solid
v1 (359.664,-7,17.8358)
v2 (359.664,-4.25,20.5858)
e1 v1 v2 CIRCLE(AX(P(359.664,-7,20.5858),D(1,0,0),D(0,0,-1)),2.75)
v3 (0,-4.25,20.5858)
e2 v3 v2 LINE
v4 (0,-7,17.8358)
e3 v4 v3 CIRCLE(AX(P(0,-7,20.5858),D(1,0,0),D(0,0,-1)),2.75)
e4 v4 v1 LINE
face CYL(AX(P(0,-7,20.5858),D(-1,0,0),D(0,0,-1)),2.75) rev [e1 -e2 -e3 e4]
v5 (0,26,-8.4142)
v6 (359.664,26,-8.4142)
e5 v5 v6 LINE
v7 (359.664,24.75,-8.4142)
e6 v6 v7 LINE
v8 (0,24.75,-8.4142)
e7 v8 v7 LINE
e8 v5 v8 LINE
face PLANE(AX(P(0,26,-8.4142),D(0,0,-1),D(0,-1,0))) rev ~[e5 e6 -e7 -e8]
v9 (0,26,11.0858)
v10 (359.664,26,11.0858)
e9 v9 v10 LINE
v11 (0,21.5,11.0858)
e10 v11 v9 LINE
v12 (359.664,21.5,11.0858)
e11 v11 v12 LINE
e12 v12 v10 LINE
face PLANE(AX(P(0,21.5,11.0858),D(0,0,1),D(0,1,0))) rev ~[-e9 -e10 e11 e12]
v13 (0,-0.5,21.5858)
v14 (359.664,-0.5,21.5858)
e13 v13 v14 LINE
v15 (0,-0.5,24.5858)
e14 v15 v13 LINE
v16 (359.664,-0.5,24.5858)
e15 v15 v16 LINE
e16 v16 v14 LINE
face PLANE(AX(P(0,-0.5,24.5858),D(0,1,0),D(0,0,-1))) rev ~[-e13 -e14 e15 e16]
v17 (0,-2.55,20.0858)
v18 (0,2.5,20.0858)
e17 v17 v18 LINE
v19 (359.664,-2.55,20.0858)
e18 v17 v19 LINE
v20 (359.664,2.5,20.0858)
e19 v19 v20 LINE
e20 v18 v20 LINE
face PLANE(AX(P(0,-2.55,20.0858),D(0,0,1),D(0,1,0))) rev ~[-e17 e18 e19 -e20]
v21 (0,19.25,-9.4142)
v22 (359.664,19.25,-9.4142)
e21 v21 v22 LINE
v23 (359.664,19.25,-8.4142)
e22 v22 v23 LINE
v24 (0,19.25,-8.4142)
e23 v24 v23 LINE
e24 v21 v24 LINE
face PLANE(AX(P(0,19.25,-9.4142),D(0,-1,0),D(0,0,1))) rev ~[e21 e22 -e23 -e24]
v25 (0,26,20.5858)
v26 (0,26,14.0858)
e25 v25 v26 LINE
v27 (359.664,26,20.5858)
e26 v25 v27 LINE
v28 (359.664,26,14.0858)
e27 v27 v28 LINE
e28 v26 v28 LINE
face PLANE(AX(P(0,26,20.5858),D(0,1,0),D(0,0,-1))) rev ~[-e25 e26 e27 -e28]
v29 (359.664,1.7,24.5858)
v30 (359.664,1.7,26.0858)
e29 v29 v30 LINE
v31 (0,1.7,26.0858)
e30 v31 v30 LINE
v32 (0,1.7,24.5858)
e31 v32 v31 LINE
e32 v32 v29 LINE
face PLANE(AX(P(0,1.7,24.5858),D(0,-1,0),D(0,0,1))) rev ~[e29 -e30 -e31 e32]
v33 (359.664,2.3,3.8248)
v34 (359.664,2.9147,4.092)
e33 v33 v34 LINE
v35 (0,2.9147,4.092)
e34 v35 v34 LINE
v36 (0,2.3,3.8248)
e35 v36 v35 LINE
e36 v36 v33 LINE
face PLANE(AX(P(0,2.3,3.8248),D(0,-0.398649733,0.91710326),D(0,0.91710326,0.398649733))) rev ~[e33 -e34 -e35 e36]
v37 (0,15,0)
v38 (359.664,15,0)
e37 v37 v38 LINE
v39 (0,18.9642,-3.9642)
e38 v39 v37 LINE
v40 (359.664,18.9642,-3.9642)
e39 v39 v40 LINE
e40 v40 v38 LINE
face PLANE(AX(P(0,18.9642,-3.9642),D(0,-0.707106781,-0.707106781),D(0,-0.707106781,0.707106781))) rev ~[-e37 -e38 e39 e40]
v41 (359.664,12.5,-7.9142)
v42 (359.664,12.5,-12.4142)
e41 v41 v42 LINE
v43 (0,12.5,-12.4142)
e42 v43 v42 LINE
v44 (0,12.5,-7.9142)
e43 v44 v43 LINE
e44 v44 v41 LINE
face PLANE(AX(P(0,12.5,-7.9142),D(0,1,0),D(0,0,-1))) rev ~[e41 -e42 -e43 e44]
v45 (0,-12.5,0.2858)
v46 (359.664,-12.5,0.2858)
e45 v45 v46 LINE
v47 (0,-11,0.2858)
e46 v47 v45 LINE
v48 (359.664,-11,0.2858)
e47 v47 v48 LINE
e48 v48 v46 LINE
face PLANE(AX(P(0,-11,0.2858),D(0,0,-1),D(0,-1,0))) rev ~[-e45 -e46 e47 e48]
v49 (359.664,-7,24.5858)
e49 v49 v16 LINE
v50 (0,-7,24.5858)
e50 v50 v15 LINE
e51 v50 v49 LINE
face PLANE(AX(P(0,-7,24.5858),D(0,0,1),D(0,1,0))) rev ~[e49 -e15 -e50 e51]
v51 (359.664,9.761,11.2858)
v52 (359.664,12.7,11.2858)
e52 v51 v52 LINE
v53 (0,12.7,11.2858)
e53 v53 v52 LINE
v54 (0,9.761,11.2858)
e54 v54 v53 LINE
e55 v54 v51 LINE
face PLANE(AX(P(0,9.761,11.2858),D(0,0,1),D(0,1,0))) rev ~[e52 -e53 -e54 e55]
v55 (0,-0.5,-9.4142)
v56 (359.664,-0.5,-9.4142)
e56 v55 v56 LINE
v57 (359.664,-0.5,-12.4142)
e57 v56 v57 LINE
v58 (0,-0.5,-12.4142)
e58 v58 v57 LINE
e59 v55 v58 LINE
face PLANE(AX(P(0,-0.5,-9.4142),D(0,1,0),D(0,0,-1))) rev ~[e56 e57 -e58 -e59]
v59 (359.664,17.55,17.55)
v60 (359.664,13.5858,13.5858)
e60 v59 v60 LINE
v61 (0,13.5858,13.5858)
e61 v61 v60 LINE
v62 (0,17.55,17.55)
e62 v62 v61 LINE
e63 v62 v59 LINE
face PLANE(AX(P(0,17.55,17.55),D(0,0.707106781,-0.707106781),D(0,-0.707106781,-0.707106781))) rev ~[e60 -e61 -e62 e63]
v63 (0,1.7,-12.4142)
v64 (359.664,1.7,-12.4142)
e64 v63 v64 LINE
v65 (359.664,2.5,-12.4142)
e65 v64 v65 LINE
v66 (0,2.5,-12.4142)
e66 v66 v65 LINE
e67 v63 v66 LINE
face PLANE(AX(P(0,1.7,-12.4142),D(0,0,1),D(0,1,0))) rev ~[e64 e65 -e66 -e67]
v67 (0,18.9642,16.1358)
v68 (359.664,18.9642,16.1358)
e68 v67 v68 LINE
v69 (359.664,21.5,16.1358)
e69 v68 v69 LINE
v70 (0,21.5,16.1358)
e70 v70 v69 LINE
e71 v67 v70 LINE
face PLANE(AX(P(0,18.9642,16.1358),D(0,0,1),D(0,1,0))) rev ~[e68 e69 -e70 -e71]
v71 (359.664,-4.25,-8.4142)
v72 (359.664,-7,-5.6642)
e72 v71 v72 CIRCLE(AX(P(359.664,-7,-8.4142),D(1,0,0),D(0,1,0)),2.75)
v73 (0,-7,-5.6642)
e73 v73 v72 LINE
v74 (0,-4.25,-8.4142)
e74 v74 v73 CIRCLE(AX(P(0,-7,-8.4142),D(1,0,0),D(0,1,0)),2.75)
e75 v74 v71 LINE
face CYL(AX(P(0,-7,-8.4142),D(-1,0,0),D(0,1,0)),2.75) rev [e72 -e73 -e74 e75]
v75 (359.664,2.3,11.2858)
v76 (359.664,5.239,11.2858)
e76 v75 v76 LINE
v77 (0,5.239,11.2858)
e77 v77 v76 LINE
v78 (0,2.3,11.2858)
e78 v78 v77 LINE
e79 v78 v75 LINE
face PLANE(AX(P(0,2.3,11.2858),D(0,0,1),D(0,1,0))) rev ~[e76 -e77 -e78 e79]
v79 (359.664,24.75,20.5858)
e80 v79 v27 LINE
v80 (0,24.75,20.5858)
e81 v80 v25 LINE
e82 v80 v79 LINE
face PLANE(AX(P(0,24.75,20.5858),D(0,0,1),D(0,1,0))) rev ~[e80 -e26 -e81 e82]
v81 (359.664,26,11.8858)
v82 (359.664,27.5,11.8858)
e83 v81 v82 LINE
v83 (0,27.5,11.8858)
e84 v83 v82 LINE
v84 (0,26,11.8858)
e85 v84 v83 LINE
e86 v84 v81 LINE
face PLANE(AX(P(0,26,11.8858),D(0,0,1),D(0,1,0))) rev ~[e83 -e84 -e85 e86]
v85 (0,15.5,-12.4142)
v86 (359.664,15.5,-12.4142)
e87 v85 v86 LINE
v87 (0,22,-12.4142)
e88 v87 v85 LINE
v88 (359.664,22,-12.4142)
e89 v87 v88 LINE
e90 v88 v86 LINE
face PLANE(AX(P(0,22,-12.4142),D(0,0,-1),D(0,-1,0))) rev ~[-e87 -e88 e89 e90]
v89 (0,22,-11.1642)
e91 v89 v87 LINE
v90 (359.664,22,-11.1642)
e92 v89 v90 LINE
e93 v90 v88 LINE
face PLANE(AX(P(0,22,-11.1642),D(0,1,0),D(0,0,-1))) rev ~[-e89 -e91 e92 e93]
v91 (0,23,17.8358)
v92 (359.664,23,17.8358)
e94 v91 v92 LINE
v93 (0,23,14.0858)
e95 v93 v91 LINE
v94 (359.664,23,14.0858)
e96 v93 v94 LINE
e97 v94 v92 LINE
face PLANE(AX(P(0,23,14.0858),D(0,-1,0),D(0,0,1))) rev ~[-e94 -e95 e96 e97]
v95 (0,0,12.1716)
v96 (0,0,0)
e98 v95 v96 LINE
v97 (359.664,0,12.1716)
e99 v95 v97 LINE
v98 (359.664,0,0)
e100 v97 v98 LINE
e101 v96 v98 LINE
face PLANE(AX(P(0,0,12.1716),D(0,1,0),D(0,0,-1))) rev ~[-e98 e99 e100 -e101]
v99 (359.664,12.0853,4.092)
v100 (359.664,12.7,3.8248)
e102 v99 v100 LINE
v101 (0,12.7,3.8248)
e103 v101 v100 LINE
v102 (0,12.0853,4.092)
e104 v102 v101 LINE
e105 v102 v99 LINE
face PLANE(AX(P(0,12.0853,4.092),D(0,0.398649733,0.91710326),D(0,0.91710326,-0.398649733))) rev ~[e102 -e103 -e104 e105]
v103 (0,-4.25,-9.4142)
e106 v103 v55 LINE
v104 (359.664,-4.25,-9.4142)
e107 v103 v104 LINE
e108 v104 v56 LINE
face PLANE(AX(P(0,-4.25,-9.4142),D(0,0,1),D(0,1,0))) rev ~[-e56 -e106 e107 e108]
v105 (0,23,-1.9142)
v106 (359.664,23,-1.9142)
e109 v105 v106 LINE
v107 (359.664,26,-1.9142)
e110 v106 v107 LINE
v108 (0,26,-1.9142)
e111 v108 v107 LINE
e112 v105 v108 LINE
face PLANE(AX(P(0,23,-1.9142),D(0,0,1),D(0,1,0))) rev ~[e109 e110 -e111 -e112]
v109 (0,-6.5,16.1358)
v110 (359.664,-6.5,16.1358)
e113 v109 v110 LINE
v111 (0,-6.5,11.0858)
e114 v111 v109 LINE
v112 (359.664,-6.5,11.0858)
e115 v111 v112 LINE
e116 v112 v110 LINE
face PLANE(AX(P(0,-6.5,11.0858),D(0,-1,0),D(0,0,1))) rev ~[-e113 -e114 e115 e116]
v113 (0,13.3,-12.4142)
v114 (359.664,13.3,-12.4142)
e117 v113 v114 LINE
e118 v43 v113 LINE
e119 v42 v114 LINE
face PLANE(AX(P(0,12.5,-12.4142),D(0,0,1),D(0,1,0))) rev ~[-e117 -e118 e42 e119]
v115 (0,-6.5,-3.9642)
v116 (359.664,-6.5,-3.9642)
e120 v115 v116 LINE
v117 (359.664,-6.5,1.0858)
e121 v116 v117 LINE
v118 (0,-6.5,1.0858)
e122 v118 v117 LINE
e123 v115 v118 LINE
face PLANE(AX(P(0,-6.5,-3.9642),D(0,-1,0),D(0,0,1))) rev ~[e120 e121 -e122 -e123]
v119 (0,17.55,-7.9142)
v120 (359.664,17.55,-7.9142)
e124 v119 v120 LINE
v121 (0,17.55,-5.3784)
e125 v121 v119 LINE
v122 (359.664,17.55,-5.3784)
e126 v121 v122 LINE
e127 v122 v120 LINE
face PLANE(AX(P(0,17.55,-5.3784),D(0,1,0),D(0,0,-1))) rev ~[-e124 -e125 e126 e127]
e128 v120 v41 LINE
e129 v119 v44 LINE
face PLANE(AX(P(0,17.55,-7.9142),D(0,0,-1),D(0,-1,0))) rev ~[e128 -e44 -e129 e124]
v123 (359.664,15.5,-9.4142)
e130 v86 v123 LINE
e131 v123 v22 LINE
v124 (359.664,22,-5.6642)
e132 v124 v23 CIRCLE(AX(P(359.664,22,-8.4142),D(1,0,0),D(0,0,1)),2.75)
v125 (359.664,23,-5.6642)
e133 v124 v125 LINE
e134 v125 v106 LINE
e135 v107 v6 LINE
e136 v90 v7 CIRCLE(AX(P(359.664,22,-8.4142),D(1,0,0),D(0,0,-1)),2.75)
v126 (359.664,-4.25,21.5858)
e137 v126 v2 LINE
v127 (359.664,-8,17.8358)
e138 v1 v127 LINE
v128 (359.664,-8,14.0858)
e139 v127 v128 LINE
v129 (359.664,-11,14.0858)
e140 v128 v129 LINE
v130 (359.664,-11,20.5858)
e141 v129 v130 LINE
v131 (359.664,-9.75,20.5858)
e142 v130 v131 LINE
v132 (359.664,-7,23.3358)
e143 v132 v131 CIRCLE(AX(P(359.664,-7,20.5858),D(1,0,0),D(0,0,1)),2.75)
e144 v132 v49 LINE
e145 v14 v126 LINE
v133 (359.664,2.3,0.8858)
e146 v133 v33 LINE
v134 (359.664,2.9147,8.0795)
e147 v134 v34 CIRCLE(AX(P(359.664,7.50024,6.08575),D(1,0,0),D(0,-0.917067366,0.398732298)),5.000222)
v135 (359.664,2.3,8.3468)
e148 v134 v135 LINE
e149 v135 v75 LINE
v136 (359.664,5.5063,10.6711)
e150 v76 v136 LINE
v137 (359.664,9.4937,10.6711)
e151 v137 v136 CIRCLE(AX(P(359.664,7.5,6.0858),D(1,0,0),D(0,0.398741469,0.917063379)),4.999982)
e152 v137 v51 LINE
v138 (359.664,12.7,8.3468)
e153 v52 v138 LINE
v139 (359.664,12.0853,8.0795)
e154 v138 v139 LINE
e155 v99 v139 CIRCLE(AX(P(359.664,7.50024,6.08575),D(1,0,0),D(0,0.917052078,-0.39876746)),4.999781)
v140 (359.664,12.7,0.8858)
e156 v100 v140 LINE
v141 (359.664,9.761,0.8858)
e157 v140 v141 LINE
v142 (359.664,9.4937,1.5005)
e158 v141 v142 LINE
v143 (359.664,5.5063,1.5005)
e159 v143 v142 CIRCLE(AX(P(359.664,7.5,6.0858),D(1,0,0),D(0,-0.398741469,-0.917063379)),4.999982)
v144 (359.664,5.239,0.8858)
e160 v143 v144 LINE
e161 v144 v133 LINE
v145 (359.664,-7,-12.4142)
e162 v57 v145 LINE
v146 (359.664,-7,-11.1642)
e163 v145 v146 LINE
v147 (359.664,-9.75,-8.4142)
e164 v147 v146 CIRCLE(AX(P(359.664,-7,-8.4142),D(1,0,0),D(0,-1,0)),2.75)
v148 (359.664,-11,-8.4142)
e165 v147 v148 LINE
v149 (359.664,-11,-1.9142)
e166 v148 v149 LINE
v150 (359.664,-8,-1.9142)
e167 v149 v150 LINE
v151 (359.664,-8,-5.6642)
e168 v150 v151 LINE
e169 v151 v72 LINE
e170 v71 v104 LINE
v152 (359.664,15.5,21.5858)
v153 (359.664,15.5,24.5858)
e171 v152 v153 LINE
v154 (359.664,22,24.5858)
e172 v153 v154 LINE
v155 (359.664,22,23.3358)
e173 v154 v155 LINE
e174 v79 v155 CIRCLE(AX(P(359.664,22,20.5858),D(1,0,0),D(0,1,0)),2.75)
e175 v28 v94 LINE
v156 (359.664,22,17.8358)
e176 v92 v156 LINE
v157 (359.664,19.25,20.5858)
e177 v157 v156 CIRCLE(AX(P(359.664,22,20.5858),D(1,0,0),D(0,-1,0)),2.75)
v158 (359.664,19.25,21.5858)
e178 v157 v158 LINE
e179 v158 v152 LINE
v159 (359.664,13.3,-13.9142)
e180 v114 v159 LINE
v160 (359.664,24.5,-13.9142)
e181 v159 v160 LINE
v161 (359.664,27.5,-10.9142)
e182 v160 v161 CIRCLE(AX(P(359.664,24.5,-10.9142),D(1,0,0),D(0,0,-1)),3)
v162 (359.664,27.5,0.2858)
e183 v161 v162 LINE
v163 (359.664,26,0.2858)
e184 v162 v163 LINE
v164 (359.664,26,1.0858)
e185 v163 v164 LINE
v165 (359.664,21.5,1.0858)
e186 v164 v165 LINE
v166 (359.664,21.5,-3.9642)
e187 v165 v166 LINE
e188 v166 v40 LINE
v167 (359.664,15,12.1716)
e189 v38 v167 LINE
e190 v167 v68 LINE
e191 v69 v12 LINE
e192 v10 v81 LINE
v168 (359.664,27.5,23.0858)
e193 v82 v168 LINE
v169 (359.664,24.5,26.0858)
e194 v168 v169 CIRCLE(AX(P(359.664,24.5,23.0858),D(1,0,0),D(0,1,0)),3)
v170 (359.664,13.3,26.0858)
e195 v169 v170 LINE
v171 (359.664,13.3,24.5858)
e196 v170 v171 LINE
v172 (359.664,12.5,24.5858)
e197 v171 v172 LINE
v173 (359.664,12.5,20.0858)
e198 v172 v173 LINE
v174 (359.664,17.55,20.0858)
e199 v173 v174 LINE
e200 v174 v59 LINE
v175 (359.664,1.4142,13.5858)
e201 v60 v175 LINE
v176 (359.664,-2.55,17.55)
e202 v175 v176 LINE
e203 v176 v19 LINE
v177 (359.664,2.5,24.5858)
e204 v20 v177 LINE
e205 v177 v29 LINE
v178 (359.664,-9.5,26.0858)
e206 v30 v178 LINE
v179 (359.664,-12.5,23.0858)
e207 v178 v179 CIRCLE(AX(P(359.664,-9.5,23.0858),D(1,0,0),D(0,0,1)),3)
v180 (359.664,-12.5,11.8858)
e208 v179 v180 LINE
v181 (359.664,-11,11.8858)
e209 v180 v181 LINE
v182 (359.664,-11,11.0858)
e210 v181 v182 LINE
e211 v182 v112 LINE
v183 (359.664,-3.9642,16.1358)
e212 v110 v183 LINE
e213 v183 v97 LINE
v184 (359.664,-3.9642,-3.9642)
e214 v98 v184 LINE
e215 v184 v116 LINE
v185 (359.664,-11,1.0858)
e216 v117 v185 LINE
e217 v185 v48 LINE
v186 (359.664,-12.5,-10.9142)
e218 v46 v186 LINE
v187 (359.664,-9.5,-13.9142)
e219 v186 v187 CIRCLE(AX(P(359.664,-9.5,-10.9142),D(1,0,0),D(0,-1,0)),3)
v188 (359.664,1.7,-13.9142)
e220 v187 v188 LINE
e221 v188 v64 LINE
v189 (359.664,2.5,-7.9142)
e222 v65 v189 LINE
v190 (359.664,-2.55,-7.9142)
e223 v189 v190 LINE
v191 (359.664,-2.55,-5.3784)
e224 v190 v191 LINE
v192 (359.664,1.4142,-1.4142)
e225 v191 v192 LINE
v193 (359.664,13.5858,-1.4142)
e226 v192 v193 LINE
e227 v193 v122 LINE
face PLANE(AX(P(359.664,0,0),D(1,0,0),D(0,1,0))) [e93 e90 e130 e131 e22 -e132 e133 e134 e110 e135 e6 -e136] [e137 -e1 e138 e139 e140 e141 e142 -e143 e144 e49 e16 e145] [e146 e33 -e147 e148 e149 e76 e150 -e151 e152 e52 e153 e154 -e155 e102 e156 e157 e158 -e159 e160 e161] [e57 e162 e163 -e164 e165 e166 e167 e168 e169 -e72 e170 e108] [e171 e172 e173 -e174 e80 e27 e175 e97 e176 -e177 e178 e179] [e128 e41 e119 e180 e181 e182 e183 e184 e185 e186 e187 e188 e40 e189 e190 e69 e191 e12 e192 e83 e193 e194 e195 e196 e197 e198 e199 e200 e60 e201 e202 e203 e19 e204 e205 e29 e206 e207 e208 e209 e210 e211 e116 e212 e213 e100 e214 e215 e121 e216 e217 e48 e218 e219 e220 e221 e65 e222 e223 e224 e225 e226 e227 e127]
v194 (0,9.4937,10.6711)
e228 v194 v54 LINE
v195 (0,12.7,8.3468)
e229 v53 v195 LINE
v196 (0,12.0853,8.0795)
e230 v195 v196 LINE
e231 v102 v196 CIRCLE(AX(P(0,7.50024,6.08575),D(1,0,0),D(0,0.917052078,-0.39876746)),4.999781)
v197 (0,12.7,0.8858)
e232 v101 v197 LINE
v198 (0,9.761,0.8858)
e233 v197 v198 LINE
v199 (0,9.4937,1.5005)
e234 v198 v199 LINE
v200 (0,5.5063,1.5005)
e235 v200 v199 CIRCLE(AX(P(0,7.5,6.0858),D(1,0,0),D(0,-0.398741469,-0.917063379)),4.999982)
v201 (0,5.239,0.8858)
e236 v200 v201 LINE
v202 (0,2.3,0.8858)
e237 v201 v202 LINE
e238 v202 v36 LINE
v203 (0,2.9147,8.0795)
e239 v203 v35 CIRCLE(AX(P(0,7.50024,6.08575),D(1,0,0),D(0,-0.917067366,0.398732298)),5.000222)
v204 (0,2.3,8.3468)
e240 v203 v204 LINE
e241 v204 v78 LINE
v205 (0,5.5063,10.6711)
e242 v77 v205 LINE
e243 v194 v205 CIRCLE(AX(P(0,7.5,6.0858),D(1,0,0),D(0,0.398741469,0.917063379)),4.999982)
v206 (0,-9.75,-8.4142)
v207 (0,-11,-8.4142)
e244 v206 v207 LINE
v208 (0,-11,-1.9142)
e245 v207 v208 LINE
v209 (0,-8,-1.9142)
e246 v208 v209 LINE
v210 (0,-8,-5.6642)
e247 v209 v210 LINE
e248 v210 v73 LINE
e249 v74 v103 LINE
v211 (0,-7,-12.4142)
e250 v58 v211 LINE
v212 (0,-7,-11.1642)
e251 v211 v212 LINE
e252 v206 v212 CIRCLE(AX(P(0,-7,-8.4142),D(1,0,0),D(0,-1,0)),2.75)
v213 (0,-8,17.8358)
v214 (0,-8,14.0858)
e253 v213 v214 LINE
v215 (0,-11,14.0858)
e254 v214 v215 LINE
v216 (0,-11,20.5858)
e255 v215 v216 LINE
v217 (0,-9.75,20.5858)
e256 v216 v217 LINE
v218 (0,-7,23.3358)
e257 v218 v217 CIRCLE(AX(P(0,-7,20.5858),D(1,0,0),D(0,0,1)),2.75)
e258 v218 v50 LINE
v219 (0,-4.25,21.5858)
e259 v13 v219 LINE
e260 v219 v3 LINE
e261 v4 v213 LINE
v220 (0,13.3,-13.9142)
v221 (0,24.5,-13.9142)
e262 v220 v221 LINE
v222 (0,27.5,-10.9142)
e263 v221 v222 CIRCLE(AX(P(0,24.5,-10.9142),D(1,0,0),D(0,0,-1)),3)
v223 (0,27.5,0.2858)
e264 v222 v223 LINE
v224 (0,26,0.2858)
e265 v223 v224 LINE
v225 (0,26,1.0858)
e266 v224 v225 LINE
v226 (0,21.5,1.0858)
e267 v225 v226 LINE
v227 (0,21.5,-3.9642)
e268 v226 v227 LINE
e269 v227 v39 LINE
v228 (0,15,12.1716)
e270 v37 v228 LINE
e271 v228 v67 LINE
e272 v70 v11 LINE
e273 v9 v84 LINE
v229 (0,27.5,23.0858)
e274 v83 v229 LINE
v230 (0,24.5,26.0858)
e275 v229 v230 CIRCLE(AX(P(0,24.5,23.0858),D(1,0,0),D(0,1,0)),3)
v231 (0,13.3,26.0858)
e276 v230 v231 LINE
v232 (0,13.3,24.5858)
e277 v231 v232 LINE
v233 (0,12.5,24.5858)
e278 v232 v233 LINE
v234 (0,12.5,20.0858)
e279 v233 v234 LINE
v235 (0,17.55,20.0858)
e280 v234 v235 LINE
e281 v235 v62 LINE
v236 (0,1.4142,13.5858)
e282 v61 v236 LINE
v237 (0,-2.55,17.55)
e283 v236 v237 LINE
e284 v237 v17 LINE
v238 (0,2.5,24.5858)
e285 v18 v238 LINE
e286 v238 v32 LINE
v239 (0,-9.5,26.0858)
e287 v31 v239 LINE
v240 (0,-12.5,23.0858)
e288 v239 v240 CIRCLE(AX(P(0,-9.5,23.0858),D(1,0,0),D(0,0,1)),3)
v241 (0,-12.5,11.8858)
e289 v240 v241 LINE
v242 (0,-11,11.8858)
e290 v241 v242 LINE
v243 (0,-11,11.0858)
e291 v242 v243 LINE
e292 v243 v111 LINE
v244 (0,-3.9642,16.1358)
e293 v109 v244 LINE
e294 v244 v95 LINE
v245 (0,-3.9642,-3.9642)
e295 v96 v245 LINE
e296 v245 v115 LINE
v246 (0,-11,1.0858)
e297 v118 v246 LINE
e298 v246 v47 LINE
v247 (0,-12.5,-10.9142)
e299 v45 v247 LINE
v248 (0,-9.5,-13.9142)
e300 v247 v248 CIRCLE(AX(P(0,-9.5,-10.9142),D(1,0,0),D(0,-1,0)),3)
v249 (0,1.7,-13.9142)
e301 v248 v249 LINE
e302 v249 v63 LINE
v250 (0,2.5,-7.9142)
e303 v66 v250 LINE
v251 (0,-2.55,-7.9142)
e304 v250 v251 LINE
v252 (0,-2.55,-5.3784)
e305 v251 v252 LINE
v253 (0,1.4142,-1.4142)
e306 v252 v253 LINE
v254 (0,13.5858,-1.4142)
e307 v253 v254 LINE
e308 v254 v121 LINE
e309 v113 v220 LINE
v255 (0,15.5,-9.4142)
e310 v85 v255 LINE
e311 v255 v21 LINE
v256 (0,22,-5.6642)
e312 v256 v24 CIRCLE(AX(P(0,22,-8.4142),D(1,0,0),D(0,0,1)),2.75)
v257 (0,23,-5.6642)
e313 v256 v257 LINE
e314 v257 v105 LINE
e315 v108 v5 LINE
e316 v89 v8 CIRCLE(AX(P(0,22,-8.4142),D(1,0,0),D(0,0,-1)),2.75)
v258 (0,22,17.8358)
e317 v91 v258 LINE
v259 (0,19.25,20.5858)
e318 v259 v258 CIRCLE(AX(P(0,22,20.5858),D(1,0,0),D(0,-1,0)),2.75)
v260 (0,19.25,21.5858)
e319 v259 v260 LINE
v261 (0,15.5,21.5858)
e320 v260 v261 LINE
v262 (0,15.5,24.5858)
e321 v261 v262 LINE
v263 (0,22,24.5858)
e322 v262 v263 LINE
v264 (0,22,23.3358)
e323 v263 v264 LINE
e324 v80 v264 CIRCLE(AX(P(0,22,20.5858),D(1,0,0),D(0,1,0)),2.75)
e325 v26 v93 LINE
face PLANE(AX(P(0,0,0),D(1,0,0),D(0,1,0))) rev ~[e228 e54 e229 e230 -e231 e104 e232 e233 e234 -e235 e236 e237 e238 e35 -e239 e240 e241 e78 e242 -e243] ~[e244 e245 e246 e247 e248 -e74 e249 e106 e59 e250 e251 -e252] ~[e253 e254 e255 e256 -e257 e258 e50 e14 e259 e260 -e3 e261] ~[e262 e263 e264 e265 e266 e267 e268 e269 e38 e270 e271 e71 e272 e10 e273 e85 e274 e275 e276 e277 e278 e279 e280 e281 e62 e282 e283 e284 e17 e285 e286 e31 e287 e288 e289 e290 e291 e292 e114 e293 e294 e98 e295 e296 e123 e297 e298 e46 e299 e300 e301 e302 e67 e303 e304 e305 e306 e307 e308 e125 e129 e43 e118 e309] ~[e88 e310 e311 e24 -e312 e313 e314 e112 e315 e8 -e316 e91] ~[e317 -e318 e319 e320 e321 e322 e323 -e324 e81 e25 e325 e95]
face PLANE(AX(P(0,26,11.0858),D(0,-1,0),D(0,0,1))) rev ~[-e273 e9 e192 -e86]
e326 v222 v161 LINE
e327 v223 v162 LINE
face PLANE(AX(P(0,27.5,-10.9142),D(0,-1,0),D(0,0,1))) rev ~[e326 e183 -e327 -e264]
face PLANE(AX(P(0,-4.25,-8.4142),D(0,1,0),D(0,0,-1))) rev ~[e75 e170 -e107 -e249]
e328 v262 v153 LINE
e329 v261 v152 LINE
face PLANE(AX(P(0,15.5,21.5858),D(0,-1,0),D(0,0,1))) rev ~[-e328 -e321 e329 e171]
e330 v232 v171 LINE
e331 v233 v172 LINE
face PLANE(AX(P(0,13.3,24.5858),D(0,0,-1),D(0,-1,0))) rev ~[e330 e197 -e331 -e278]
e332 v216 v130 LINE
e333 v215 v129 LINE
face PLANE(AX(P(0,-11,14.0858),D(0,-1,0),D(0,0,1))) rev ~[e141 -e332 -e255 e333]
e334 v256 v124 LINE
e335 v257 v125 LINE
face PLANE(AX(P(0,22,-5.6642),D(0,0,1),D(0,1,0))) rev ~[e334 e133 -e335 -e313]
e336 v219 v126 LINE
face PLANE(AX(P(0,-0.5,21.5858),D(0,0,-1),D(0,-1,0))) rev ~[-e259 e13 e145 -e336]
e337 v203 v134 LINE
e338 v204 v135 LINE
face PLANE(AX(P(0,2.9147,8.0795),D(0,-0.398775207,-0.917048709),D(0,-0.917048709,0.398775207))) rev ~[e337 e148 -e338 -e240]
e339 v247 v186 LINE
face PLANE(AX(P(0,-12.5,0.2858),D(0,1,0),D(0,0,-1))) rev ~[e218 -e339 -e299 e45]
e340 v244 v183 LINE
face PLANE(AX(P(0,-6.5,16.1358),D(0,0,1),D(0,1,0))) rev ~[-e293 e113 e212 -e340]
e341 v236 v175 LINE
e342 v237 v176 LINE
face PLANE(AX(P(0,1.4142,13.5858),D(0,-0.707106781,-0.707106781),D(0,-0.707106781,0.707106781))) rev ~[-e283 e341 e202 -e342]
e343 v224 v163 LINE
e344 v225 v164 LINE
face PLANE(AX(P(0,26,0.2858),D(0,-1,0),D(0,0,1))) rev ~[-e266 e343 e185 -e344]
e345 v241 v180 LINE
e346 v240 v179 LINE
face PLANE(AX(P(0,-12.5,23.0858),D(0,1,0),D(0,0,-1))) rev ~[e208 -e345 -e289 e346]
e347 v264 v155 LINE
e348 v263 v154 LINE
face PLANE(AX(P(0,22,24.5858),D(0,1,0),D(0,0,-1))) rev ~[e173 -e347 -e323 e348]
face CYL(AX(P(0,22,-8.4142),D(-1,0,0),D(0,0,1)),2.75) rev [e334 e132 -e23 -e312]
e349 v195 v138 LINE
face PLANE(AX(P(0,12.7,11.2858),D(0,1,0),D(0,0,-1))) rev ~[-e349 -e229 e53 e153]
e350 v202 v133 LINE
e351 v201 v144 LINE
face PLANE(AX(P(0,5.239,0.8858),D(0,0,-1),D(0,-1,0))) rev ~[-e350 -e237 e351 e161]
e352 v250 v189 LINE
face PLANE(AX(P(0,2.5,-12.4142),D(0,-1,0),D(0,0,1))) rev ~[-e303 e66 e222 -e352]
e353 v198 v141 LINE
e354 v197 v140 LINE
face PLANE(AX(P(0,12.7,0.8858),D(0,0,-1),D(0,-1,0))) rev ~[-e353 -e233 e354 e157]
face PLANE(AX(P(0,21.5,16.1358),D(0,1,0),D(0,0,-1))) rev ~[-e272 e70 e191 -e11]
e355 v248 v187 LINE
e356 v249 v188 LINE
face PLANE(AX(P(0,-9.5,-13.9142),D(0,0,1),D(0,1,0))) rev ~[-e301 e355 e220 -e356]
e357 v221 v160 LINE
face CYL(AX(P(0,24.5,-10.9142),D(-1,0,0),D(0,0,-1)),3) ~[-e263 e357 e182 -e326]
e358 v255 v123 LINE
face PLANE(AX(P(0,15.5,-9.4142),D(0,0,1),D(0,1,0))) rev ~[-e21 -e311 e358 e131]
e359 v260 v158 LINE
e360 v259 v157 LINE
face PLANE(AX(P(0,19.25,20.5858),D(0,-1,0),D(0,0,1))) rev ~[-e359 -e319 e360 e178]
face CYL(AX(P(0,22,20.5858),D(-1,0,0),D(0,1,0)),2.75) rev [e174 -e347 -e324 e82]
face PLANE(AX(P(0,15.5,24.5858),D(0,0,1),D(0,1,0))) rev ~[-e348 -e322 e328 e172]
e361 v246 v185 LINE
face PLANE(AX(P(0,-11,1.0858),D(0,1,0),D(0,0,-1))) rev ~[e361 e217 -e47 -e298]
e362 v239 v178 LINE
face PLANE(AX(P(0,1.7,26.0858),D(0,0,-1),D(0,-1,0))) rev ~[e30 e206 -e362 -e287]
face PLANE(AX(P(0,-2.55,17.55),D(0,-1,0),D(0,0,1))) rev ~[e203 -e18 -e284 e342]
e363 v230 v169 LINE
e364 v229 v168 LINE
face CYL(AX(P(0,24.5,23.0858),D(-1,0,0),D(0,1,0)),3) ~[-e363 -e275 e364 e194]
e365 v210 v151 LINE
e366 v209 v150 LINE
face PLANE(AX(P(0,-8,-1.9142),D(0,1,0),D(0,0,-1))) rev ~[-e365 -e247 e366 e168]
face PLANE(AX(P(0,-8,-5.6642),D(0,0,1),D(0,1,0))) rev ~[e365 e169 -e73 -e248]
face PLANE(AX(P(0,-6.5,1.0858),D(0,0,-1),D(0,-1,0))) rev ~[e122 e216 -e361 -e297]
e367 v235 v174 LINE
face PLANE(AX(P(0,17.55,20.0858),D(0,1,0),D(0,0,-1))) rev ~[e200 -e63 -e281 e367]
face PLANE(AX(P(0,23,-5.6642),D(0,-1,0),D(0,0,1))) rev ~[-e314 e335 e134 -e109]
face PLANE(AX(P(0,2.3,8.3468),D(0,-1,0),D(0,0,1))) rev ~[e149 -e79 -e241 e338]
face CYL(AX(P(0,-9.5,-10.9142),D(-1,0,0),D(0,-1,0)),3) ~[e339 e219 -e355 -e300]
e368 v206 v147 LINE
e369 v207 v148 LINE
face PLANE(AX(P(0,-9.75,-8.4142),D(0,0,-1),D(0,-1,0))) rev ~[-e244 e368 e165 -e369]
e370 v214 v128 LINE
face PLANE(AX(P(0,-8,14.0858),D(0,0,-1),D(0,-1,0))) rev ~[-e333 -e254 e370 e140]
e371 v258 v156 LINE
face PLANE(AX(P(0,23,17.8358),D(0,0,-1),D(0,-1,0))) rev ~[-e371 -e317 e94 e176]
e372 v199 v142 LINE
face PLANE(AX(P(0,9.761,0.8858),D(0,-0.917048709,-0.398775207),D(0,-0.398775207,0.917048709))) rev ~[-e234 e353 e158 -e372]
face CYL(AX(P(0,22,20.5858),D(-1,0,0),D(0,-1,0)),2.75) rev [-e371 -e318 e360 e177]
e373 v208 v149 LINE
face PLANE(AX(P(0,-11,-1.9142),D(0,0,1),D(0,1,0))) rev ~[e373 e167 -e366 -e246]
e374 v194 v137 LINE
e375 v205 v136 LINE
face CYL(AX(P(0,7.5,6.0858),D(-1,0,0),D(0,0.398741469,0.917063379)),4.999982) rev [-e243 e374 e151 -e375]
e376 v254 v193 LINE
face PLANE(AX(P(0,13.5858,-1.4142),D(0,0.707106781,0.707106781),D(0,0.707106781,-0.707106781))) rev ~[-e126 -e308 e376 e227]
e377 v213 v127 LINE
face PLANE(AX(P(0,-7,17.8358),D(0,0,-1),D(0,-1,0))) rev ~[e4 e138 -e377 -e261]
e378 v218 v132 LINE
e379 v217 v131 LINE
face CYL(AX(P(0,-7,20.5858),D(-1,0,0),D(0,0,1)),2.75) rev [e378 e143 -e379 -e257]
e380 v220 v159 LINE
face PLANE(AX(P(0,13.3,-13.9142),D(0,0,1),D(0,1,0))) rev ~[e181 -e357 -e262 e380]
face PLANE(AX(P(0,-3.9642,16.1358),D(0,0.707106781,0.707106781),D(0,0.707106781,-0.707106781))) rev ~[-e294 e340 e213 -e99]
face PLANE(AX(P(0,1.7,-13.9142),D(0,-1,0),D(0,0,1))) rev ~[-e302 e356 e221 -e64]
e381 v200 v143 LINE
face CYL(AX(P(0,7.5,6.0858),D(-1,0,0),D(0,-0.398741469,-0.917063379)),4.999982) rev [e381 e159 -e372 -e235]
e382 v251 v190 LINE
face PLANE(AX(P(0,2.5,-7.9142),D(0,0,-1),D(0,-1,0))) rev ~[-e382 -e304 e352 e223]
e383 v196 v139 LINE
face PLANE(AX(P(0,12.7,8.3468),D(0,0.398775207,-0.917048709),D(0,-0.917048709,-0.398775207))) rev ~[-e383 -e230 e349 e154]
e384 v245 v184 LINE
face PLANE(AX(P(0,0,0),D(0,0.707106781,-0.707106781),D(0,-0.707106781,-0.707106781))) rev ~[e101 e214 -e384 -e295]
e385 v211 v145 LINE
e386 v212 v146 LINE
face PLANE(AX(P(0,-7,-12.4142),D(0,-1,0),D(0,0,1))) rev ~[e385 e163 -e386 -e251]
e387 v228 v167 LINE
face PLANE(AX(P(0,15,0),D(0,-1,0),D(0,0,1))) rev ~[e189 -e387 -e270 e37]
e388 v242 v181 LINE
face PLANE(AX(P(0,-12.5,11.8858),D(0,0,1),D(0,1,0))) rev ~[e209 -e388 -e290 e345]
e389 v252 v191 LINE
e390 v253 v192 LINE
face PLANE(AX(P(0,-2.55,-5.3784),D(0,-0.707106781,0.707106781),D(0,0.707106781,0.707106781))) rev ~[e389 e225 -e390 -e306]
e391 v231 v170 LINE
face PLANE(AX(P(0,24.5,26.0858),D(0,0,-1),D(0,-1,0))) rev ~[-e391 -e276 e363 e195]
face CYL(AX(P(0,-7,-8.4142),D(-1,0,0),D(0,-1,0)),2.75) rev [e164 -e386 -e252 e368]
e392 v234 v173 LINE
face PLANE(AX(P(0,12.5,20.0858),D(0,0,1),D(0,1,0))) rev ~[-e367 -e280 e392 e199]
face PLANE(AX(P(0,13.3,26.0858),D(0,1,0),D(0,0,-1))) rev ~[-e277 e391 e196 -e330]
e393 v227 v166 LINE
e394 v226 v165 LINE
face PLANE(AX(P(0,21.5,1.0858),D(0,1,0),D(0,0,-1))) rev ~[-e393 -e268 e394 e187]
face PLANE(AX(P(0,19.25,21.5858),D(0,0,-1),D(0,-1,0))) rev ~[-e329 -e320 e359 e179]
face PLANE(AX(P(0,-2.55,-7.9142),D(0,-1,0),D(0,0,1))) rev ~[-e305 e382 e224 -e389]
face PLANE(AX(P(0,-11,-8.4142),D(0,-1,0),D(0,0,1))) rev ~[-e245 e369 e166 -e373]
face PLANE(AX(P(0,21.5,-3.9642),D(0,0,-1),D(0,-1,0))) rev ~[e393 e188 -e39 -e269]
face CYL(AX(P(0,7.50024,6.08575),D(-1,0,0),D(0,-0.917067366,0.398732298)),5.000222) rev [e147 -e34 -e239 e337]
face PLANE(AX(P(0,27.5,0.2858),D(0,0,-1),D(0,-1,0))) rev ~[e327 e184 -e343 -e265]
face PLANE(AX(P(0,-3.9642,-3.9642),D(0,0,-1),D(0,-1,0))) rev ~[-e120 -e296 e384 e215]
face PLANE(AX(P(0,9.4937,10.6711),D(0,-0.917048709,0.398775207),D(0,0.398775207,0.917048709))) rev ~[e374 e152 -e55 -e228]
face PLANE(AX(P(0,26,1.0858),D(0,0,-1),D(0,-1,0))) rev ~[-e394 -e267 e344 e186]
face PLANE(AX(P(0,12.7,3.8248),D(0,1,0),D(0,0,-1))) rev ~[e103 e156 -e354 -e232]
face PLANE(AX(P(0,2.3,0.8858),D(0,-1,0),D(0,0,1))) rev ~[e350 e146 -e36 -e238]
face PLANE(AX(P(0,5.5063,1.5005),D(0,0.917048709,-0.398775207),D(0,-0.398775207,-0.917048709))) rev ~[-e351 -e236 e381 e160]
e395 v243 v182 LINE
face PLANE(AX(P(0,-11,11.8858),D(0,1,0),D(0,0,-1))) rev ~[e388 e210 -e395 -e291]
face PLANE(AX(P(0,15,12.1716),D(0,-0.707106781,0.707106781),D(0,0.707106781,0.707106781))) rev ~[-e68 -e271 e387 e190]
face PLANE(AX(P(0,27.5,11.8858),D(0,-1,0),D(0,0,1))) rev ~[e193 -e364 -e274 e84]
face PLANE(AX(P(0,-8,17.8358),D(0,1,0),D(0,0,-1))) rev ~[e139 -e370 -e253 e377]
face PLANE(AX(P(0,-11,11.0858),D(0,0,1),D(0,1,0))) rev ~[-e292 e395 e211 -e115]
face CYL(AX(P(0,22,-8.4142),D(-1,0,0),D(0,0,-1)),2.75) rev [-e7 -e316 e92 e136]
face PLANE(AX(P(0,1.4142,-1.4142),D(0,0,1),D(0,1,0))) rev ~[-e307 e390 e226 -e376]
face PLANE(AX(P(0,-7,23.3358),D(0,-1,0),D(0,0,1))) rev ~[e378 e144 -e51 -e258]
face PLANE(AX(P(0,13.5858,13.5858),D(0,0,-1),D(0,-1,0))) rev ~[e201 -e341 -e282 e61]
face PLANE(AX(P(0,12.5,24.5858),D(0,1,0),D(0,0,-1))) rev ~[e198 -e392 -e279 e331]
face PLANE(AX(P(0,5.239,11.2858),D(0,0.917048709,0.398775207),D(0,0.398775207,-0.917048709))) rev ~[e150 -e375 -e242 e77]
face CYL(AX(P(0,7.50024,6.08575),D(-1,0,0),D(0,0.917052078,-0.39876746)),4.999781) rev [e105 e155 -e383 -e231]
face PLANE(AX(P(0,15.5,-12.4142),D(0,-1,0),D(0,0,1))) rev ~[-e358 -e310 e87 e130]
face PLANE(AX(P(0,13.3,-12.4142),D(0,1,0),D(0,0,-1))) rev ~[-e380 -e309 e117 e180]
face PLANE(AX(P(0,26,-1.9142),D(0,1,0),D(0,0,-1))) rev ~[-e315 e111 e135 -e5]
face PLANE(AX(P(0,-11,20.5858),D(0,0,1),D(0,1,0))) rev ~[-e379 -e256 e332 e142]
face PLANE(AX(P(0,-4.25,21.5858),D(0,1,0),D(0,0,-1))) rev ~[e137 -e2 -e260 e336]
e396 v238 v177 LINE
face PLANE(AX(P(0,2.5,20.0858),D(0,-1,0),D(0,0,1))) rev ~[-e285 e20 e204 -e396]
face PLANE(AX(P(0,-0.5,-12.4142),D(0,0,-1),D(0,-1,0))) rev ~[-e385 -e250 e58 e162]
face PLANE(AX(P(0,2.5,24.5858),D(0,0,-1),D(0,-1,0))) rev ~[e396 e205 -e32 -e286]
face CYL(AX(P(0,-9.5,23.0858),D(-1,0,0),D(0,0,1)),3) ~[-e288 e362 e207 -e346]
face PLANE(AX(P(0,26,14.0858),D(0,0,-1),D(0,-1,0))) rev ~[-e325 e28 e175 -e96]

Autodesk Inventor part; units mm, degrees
ref_plane "YZ Plane" through (0, 0, 0) normal (1, 0, 0) x (0, 1, 0)
ref_plane "XZ Plane" through (0, 0, 0) normal (0, 1, 0) x (-1, 0, 0)
ref_plane "XY Plane" through (0, 0, 0) normal (0, 0, 1) x (1, 0, 0)
sketch "Sketch1" plane through (0, 0, 0) normal (1, 0, 0) x (0, 1, 0)
  line L0 (0, 12.1716) -> (0, 0)
  line L1 (0, 0) -> (-3.9642, -3.9642)
  line L2 (-3.9642, -3.9642) -> (-6.5, -3.9642)
  line L3 (-6.5, -3.9642) -> (-6.5, 1.0858)
  line L4 (-6.5, 1.0858) -> (-11, 1.0858)
  line L5 (-11, 1.0858) -> (-11, 0.2858)
  line L6 (-11, 0.2858) -> (-12.5, 0.2858)
  line L7 (-12.5, 0.2858) -> (-12.5, -10.9142)
  arc A0 (-12.5, -10.9142) -> (-9.5, -13.9142) centre (-9.5, -10.9142) ccw
  line L8 (-9.5, -13.9142) -> (1.7, -13.9142)
  line L9 (1.7, -13.9142) -> (1.7, -12.4142)
  line L10 (1.7, -12.4142) -> (2.5, -12.4142)
  line L11 (2.5, -12.4142) -> (2.5, -7.9142)
  line L12 (2.5, -7.9142) -> (-2.55, -7.9142)
  line L13 (-2.55, -7.9142) -> (-2.55, -5.3784)
  line L14 (-2.55, -5.3784) -> (1.4142, -1.4142)
  line L15 (1.4142, -1.4142) -> (13.5858, -1.4142)
  line L16 (13.5858, -1.4142) -> (17.55, -5.3784)
  line L17 (17.55, -5.3784) -> (17.55, -7.9142)
  line L18 (17.55, -7.9142) -> (12.5, -7.9142)
  line L19 (12.5, -7.9142) -> (12.5, -12.4142)
  line L20 (12.5, -12.4142) -> (13.3, -12.4142)
  line L21 (13.3, -12.4142) -> (13.3, -13.9142)
  line L22 (13.3, -13.9142) -> (24.5, -13.9142)
  arc A1 (24.5, -13.9142) -> (27.5, -10.9142) centre (24.5, -10.9142) ccw
  line L23 (27.5, -10.9142) -> (27.5, 0.2858)
  line L24 (27.5, 0.2858) -> (26, 0.2858)
  line L25 (26, 0.2858) -> (26, 1.0858)
  line L26 (26, 1.0858) -> (21.5, 1.0858)
  line L27 (21.5, 1.0858) -> (21.5, -3.9642)
  line L28 (21.5, -3.9642) -> (18.9642, -3.9642)
  line L29 (18.9642, -3.9642) -> (15, 0)
  line L30 (15, 0) -> (15, 12.1716)
  line L31 (15, 12.1716) -> (18.9642, 16.1358)
  line L32 (18.9642, 16.1358) -> (21.5, 16.1358)
  line L33 (21.5, 16.1358) -> (21.5, 11.0858)
  line L34 (21.5, 11.0858) -> (26, 11.0858)
  line L35 (26, 11.0858) -> (26, 11.8858)
  line L36 (26, 11.8858) -> (27.5, 11.8858)
  line L37 (27.5, 11.8858) -> (27.5, 23.0858)
  arc A2 (27.5, 23.0858) -> (24.5, 26.0858) centre (24.5, 23.0858) ccw
  line L38 (24.5, 26.0858) -> (13.3, 26.0858)
  line L39 (13.3, 26.0858) -> (13.3, 24.5858)
  line L40 (13.3, 24.5858) -> (12.5, 24.5858)
  line L41 (12.5, 24.5858) -> (12.5, 20.0858)
  line L42 (12.5, 20.0858) -> (17.55, 20.0858)
  line L43 (17.55, 20.0858) -> (17.55, 17.55)
  line L44 (17.55, 17.55) -> (13.5858, 13.5858)
  line L45 (13.5858, 13.5858) -> (1.4142, 13.5858)
  line L46 (1.4142, 13.5858) -> (-2.55, 17.55)
  line L47 (-2.55, 17.55) -> (-2.55, 20.0858)
  line L48 (-2.55, 20.0858) -> (2.5, 20.0858)
  line L49 (2.5, 20.0858) -> (2.5, 24.5858)
  line L50 (2.5, 24.5858) -> (1.7, 24.5858)
  line L51 (1.7, 24.5858) -> (1.7, 26.0858)
  line L52 (1.7, 26.0858) -> (-9.5, 26.0858)
  arc A3 (-9.5, 26.0858) -> (-12.5, 23.0858) centre (-9.5, 23.0858) ccw
  line L53 (-12.5, 23.0858) -> (-12.5, 11.8858)
  line L54 (-12.5, 11.8858) -> (-11, 11.8858)
  line L55 (-11, 11.8858) -> (-11, 11.0858)
  line L56 (-11, 11.0858) -> (-6.5, 11.0858)
  line L57 (-6.5, 11.0858) -> (-6.5, 16.1358)
  line L58 (-6.5, 16.1358) -> (-3.9642, 16.1358)
  line L59 (-3.9642, 16.1358) -> (0, 12.1716)
  line L60 (-0.5, 24.5858) -> (-0.5, 21.5858)
  line L61 (-0.5, 21.5858) -> (-4.25, 21.5858)
  line L62 (-4.25, 21.5858) -> (-4.25, 20.5858)
  arc A4 (-7, 17.8358) -> (-4.25, 20.5858) centre (-7, 20.5858) ccw
  line L63 (-7, 17.8358) -> (-8, 17.8358)
  line L64 (-8, 17.8358) -> (-8, 14.0858)
  line L65 (-8, 14.0858) -> (-11, 14.0858)
  line L66 (-11, 14.0858) -> (-11, 20.5858)
  line L67 (-11, 20.5858) -> (-9.75, 20.5858)
  arc A5 (-7, 23.3358) -> (-9.75, 20.5858) centre (-7, 20.5858) ccw
  line L68 (-7, 23.3358) -> (-7, 24.5858)
  line L69 (-7, 24.5858) -> (-0.5, 24.5858)
  line L70 (26, 14.0858) -> (23, 14.0858)
  line L71 (23, 14.0858) -> (23, 17.8358)
  line L72 (23, 17.8358) -> (22, 17.8358)
  arc A6 (19.25, 20.5858) -> (22, 17.8358) centre (22, 20.5858) ccw
  line L73 (19.25, 20.5858) -> (19.25, 21.5858)
  line L74 (19.25, 21.5858) -> (15.5, 21.5858)
  line L75 (15.5, 21.5858) -> (15.5, 24.5858)
  line L76 (15.5, 24.5858) -> (22, 24.5858)
  line L77 (22, 24.5858) -> (22, 23.3358)
  arc A7 (24.75, 20.5858) -> (22, 23.3358) centre (22, 20.5858) ccw
  line L78 (24.75, 20.5858) -> (26, 20.5858)
  line L79 (26, 20.5858) -> (26, 14.0858)
  line L80 (15.5, -12.4142) -> (15.5, -9.4142)
  line L81 (15.5, -9.4142) -> (19.25, -9.4142)
  line L82 (19.25, -9.4142) -> (19.25, -8.4142)
  arc A8 (22, -5.6642) -> (19.25, -8.4142) centre (22, -8.4142) ccw
  line L83 (22, -5.6642) -> (23, -5.6642)
  line L84 (23, -5.6642) -> (23, -1.9142)
  line L85 (23, -1.9142) -> (26, -1.9142)
  line L86 (26, -1.9142) -> (26, -8.4142)
  line L87 (26, -8.4142) -> (24.75, -8.4142)
  arc A9 (22, -11.1642) -> (24.75, -8.4142) centre (22, -8.4142) ccw
  line L88 (22, -11.1642) -> (22, -12.4142)
  line L89 (22, -12.4142) -> (15.5, -12.4142)
  line L90 (9.761, 0.8858) -> (9.4937, 1.5005)
  arc A10 (5.5063, 1.5005) -> (9.4937, 1.5005) centre (7.5, 6.0858) ccw
  line L91 (5.5063, 1.5005) -> (5.239, 0.8858)
  line L92 (5.239, 0.8858) -> (2.3, 0.8858)
  line L93 (2.3, 0.8858) -> (2.3, 3.8248)
  line L94 (2.3, 3.8248) -> (2.9147, 4.092)
  arc A11 (2.9147, 8.0795) -> (2.9147, 4.092) centre (7.5, 6.0858) ccw
  line L95 (2.9147, 8.0795) -> (2.3, 8.3468)
  line L96 (2.3, 8.3468) -> (2.3, 11.2858)
  line L97 (2.3, 11.2858) -> (5.239, 11.2858)
  line L98 (5.239, 11.2858) -> (5.5063, 10.6711)
  arc A12 (9.4937, 10.6711) -> (5.5063, 10.6711) centre (7.5, 6.0858) ccw
  line L99 (9.4937, 10.6711) -> (9.761, 11.2858)
  line L100 (9.761, 11.2858) -> (12.7, 11.2858)
  line L101 (12.7, 11.2858) -> (12.7, 8.3468)
  line L102 (12.7, 8.3468) -> (12.0853, 8.0795)
  arc A13 (12.0853, 4.092) -> (12.0853, 8.0795) centre (7.5, 6.0858) ccw
  line L103 (12.0853, 4.092) -> (12.7, 3.8248)
  line L104 (12.7, 3.8248) -> (12.7, 0.8858)
  line L105 (12.7, 0.8858) -> (9.761, 0.8858)
  line L106 (-11, -1.9142) -> (-8, -1.9142)
  line L107 (-8, -1.9142) -> (-8, -5.6642)
  line L108 (-8, -5.6642) -> (-7, -5.6642)
  arc A14 (-4.25, -8.4142) -> (-7, -5.6642) centre (-7, -8.4142) ccw
  line L109 (-4.25, -8.4142) -> (-4.25, -9.4142)
  line L110 (-4.25, -9.4142) -> (-0.5, -9.4142)
  line L111 (-0.5, -9.4142) -> (-0.5, -12.4142)
  line L112 (-0.5, -12.4142) -> (-7, -12.4142)
  line L113 (-7, -12.4142) -> (-7, -11.1642)
  arc A15 (-9.75, -8.4142) -> (-7, -11.1642) centre (-7, -8.4142) ccw
  line L114 (-9.75, -8.4142) -> (-11, -8.4142)
  line L115 (-11, -8.4142) -> (-11, -1.9142)
extrude "Extrusion1" add sketch "Sketch1" along normal blind 359.664
properties part number "lower vertical rail" material "Aluminum-6061"
